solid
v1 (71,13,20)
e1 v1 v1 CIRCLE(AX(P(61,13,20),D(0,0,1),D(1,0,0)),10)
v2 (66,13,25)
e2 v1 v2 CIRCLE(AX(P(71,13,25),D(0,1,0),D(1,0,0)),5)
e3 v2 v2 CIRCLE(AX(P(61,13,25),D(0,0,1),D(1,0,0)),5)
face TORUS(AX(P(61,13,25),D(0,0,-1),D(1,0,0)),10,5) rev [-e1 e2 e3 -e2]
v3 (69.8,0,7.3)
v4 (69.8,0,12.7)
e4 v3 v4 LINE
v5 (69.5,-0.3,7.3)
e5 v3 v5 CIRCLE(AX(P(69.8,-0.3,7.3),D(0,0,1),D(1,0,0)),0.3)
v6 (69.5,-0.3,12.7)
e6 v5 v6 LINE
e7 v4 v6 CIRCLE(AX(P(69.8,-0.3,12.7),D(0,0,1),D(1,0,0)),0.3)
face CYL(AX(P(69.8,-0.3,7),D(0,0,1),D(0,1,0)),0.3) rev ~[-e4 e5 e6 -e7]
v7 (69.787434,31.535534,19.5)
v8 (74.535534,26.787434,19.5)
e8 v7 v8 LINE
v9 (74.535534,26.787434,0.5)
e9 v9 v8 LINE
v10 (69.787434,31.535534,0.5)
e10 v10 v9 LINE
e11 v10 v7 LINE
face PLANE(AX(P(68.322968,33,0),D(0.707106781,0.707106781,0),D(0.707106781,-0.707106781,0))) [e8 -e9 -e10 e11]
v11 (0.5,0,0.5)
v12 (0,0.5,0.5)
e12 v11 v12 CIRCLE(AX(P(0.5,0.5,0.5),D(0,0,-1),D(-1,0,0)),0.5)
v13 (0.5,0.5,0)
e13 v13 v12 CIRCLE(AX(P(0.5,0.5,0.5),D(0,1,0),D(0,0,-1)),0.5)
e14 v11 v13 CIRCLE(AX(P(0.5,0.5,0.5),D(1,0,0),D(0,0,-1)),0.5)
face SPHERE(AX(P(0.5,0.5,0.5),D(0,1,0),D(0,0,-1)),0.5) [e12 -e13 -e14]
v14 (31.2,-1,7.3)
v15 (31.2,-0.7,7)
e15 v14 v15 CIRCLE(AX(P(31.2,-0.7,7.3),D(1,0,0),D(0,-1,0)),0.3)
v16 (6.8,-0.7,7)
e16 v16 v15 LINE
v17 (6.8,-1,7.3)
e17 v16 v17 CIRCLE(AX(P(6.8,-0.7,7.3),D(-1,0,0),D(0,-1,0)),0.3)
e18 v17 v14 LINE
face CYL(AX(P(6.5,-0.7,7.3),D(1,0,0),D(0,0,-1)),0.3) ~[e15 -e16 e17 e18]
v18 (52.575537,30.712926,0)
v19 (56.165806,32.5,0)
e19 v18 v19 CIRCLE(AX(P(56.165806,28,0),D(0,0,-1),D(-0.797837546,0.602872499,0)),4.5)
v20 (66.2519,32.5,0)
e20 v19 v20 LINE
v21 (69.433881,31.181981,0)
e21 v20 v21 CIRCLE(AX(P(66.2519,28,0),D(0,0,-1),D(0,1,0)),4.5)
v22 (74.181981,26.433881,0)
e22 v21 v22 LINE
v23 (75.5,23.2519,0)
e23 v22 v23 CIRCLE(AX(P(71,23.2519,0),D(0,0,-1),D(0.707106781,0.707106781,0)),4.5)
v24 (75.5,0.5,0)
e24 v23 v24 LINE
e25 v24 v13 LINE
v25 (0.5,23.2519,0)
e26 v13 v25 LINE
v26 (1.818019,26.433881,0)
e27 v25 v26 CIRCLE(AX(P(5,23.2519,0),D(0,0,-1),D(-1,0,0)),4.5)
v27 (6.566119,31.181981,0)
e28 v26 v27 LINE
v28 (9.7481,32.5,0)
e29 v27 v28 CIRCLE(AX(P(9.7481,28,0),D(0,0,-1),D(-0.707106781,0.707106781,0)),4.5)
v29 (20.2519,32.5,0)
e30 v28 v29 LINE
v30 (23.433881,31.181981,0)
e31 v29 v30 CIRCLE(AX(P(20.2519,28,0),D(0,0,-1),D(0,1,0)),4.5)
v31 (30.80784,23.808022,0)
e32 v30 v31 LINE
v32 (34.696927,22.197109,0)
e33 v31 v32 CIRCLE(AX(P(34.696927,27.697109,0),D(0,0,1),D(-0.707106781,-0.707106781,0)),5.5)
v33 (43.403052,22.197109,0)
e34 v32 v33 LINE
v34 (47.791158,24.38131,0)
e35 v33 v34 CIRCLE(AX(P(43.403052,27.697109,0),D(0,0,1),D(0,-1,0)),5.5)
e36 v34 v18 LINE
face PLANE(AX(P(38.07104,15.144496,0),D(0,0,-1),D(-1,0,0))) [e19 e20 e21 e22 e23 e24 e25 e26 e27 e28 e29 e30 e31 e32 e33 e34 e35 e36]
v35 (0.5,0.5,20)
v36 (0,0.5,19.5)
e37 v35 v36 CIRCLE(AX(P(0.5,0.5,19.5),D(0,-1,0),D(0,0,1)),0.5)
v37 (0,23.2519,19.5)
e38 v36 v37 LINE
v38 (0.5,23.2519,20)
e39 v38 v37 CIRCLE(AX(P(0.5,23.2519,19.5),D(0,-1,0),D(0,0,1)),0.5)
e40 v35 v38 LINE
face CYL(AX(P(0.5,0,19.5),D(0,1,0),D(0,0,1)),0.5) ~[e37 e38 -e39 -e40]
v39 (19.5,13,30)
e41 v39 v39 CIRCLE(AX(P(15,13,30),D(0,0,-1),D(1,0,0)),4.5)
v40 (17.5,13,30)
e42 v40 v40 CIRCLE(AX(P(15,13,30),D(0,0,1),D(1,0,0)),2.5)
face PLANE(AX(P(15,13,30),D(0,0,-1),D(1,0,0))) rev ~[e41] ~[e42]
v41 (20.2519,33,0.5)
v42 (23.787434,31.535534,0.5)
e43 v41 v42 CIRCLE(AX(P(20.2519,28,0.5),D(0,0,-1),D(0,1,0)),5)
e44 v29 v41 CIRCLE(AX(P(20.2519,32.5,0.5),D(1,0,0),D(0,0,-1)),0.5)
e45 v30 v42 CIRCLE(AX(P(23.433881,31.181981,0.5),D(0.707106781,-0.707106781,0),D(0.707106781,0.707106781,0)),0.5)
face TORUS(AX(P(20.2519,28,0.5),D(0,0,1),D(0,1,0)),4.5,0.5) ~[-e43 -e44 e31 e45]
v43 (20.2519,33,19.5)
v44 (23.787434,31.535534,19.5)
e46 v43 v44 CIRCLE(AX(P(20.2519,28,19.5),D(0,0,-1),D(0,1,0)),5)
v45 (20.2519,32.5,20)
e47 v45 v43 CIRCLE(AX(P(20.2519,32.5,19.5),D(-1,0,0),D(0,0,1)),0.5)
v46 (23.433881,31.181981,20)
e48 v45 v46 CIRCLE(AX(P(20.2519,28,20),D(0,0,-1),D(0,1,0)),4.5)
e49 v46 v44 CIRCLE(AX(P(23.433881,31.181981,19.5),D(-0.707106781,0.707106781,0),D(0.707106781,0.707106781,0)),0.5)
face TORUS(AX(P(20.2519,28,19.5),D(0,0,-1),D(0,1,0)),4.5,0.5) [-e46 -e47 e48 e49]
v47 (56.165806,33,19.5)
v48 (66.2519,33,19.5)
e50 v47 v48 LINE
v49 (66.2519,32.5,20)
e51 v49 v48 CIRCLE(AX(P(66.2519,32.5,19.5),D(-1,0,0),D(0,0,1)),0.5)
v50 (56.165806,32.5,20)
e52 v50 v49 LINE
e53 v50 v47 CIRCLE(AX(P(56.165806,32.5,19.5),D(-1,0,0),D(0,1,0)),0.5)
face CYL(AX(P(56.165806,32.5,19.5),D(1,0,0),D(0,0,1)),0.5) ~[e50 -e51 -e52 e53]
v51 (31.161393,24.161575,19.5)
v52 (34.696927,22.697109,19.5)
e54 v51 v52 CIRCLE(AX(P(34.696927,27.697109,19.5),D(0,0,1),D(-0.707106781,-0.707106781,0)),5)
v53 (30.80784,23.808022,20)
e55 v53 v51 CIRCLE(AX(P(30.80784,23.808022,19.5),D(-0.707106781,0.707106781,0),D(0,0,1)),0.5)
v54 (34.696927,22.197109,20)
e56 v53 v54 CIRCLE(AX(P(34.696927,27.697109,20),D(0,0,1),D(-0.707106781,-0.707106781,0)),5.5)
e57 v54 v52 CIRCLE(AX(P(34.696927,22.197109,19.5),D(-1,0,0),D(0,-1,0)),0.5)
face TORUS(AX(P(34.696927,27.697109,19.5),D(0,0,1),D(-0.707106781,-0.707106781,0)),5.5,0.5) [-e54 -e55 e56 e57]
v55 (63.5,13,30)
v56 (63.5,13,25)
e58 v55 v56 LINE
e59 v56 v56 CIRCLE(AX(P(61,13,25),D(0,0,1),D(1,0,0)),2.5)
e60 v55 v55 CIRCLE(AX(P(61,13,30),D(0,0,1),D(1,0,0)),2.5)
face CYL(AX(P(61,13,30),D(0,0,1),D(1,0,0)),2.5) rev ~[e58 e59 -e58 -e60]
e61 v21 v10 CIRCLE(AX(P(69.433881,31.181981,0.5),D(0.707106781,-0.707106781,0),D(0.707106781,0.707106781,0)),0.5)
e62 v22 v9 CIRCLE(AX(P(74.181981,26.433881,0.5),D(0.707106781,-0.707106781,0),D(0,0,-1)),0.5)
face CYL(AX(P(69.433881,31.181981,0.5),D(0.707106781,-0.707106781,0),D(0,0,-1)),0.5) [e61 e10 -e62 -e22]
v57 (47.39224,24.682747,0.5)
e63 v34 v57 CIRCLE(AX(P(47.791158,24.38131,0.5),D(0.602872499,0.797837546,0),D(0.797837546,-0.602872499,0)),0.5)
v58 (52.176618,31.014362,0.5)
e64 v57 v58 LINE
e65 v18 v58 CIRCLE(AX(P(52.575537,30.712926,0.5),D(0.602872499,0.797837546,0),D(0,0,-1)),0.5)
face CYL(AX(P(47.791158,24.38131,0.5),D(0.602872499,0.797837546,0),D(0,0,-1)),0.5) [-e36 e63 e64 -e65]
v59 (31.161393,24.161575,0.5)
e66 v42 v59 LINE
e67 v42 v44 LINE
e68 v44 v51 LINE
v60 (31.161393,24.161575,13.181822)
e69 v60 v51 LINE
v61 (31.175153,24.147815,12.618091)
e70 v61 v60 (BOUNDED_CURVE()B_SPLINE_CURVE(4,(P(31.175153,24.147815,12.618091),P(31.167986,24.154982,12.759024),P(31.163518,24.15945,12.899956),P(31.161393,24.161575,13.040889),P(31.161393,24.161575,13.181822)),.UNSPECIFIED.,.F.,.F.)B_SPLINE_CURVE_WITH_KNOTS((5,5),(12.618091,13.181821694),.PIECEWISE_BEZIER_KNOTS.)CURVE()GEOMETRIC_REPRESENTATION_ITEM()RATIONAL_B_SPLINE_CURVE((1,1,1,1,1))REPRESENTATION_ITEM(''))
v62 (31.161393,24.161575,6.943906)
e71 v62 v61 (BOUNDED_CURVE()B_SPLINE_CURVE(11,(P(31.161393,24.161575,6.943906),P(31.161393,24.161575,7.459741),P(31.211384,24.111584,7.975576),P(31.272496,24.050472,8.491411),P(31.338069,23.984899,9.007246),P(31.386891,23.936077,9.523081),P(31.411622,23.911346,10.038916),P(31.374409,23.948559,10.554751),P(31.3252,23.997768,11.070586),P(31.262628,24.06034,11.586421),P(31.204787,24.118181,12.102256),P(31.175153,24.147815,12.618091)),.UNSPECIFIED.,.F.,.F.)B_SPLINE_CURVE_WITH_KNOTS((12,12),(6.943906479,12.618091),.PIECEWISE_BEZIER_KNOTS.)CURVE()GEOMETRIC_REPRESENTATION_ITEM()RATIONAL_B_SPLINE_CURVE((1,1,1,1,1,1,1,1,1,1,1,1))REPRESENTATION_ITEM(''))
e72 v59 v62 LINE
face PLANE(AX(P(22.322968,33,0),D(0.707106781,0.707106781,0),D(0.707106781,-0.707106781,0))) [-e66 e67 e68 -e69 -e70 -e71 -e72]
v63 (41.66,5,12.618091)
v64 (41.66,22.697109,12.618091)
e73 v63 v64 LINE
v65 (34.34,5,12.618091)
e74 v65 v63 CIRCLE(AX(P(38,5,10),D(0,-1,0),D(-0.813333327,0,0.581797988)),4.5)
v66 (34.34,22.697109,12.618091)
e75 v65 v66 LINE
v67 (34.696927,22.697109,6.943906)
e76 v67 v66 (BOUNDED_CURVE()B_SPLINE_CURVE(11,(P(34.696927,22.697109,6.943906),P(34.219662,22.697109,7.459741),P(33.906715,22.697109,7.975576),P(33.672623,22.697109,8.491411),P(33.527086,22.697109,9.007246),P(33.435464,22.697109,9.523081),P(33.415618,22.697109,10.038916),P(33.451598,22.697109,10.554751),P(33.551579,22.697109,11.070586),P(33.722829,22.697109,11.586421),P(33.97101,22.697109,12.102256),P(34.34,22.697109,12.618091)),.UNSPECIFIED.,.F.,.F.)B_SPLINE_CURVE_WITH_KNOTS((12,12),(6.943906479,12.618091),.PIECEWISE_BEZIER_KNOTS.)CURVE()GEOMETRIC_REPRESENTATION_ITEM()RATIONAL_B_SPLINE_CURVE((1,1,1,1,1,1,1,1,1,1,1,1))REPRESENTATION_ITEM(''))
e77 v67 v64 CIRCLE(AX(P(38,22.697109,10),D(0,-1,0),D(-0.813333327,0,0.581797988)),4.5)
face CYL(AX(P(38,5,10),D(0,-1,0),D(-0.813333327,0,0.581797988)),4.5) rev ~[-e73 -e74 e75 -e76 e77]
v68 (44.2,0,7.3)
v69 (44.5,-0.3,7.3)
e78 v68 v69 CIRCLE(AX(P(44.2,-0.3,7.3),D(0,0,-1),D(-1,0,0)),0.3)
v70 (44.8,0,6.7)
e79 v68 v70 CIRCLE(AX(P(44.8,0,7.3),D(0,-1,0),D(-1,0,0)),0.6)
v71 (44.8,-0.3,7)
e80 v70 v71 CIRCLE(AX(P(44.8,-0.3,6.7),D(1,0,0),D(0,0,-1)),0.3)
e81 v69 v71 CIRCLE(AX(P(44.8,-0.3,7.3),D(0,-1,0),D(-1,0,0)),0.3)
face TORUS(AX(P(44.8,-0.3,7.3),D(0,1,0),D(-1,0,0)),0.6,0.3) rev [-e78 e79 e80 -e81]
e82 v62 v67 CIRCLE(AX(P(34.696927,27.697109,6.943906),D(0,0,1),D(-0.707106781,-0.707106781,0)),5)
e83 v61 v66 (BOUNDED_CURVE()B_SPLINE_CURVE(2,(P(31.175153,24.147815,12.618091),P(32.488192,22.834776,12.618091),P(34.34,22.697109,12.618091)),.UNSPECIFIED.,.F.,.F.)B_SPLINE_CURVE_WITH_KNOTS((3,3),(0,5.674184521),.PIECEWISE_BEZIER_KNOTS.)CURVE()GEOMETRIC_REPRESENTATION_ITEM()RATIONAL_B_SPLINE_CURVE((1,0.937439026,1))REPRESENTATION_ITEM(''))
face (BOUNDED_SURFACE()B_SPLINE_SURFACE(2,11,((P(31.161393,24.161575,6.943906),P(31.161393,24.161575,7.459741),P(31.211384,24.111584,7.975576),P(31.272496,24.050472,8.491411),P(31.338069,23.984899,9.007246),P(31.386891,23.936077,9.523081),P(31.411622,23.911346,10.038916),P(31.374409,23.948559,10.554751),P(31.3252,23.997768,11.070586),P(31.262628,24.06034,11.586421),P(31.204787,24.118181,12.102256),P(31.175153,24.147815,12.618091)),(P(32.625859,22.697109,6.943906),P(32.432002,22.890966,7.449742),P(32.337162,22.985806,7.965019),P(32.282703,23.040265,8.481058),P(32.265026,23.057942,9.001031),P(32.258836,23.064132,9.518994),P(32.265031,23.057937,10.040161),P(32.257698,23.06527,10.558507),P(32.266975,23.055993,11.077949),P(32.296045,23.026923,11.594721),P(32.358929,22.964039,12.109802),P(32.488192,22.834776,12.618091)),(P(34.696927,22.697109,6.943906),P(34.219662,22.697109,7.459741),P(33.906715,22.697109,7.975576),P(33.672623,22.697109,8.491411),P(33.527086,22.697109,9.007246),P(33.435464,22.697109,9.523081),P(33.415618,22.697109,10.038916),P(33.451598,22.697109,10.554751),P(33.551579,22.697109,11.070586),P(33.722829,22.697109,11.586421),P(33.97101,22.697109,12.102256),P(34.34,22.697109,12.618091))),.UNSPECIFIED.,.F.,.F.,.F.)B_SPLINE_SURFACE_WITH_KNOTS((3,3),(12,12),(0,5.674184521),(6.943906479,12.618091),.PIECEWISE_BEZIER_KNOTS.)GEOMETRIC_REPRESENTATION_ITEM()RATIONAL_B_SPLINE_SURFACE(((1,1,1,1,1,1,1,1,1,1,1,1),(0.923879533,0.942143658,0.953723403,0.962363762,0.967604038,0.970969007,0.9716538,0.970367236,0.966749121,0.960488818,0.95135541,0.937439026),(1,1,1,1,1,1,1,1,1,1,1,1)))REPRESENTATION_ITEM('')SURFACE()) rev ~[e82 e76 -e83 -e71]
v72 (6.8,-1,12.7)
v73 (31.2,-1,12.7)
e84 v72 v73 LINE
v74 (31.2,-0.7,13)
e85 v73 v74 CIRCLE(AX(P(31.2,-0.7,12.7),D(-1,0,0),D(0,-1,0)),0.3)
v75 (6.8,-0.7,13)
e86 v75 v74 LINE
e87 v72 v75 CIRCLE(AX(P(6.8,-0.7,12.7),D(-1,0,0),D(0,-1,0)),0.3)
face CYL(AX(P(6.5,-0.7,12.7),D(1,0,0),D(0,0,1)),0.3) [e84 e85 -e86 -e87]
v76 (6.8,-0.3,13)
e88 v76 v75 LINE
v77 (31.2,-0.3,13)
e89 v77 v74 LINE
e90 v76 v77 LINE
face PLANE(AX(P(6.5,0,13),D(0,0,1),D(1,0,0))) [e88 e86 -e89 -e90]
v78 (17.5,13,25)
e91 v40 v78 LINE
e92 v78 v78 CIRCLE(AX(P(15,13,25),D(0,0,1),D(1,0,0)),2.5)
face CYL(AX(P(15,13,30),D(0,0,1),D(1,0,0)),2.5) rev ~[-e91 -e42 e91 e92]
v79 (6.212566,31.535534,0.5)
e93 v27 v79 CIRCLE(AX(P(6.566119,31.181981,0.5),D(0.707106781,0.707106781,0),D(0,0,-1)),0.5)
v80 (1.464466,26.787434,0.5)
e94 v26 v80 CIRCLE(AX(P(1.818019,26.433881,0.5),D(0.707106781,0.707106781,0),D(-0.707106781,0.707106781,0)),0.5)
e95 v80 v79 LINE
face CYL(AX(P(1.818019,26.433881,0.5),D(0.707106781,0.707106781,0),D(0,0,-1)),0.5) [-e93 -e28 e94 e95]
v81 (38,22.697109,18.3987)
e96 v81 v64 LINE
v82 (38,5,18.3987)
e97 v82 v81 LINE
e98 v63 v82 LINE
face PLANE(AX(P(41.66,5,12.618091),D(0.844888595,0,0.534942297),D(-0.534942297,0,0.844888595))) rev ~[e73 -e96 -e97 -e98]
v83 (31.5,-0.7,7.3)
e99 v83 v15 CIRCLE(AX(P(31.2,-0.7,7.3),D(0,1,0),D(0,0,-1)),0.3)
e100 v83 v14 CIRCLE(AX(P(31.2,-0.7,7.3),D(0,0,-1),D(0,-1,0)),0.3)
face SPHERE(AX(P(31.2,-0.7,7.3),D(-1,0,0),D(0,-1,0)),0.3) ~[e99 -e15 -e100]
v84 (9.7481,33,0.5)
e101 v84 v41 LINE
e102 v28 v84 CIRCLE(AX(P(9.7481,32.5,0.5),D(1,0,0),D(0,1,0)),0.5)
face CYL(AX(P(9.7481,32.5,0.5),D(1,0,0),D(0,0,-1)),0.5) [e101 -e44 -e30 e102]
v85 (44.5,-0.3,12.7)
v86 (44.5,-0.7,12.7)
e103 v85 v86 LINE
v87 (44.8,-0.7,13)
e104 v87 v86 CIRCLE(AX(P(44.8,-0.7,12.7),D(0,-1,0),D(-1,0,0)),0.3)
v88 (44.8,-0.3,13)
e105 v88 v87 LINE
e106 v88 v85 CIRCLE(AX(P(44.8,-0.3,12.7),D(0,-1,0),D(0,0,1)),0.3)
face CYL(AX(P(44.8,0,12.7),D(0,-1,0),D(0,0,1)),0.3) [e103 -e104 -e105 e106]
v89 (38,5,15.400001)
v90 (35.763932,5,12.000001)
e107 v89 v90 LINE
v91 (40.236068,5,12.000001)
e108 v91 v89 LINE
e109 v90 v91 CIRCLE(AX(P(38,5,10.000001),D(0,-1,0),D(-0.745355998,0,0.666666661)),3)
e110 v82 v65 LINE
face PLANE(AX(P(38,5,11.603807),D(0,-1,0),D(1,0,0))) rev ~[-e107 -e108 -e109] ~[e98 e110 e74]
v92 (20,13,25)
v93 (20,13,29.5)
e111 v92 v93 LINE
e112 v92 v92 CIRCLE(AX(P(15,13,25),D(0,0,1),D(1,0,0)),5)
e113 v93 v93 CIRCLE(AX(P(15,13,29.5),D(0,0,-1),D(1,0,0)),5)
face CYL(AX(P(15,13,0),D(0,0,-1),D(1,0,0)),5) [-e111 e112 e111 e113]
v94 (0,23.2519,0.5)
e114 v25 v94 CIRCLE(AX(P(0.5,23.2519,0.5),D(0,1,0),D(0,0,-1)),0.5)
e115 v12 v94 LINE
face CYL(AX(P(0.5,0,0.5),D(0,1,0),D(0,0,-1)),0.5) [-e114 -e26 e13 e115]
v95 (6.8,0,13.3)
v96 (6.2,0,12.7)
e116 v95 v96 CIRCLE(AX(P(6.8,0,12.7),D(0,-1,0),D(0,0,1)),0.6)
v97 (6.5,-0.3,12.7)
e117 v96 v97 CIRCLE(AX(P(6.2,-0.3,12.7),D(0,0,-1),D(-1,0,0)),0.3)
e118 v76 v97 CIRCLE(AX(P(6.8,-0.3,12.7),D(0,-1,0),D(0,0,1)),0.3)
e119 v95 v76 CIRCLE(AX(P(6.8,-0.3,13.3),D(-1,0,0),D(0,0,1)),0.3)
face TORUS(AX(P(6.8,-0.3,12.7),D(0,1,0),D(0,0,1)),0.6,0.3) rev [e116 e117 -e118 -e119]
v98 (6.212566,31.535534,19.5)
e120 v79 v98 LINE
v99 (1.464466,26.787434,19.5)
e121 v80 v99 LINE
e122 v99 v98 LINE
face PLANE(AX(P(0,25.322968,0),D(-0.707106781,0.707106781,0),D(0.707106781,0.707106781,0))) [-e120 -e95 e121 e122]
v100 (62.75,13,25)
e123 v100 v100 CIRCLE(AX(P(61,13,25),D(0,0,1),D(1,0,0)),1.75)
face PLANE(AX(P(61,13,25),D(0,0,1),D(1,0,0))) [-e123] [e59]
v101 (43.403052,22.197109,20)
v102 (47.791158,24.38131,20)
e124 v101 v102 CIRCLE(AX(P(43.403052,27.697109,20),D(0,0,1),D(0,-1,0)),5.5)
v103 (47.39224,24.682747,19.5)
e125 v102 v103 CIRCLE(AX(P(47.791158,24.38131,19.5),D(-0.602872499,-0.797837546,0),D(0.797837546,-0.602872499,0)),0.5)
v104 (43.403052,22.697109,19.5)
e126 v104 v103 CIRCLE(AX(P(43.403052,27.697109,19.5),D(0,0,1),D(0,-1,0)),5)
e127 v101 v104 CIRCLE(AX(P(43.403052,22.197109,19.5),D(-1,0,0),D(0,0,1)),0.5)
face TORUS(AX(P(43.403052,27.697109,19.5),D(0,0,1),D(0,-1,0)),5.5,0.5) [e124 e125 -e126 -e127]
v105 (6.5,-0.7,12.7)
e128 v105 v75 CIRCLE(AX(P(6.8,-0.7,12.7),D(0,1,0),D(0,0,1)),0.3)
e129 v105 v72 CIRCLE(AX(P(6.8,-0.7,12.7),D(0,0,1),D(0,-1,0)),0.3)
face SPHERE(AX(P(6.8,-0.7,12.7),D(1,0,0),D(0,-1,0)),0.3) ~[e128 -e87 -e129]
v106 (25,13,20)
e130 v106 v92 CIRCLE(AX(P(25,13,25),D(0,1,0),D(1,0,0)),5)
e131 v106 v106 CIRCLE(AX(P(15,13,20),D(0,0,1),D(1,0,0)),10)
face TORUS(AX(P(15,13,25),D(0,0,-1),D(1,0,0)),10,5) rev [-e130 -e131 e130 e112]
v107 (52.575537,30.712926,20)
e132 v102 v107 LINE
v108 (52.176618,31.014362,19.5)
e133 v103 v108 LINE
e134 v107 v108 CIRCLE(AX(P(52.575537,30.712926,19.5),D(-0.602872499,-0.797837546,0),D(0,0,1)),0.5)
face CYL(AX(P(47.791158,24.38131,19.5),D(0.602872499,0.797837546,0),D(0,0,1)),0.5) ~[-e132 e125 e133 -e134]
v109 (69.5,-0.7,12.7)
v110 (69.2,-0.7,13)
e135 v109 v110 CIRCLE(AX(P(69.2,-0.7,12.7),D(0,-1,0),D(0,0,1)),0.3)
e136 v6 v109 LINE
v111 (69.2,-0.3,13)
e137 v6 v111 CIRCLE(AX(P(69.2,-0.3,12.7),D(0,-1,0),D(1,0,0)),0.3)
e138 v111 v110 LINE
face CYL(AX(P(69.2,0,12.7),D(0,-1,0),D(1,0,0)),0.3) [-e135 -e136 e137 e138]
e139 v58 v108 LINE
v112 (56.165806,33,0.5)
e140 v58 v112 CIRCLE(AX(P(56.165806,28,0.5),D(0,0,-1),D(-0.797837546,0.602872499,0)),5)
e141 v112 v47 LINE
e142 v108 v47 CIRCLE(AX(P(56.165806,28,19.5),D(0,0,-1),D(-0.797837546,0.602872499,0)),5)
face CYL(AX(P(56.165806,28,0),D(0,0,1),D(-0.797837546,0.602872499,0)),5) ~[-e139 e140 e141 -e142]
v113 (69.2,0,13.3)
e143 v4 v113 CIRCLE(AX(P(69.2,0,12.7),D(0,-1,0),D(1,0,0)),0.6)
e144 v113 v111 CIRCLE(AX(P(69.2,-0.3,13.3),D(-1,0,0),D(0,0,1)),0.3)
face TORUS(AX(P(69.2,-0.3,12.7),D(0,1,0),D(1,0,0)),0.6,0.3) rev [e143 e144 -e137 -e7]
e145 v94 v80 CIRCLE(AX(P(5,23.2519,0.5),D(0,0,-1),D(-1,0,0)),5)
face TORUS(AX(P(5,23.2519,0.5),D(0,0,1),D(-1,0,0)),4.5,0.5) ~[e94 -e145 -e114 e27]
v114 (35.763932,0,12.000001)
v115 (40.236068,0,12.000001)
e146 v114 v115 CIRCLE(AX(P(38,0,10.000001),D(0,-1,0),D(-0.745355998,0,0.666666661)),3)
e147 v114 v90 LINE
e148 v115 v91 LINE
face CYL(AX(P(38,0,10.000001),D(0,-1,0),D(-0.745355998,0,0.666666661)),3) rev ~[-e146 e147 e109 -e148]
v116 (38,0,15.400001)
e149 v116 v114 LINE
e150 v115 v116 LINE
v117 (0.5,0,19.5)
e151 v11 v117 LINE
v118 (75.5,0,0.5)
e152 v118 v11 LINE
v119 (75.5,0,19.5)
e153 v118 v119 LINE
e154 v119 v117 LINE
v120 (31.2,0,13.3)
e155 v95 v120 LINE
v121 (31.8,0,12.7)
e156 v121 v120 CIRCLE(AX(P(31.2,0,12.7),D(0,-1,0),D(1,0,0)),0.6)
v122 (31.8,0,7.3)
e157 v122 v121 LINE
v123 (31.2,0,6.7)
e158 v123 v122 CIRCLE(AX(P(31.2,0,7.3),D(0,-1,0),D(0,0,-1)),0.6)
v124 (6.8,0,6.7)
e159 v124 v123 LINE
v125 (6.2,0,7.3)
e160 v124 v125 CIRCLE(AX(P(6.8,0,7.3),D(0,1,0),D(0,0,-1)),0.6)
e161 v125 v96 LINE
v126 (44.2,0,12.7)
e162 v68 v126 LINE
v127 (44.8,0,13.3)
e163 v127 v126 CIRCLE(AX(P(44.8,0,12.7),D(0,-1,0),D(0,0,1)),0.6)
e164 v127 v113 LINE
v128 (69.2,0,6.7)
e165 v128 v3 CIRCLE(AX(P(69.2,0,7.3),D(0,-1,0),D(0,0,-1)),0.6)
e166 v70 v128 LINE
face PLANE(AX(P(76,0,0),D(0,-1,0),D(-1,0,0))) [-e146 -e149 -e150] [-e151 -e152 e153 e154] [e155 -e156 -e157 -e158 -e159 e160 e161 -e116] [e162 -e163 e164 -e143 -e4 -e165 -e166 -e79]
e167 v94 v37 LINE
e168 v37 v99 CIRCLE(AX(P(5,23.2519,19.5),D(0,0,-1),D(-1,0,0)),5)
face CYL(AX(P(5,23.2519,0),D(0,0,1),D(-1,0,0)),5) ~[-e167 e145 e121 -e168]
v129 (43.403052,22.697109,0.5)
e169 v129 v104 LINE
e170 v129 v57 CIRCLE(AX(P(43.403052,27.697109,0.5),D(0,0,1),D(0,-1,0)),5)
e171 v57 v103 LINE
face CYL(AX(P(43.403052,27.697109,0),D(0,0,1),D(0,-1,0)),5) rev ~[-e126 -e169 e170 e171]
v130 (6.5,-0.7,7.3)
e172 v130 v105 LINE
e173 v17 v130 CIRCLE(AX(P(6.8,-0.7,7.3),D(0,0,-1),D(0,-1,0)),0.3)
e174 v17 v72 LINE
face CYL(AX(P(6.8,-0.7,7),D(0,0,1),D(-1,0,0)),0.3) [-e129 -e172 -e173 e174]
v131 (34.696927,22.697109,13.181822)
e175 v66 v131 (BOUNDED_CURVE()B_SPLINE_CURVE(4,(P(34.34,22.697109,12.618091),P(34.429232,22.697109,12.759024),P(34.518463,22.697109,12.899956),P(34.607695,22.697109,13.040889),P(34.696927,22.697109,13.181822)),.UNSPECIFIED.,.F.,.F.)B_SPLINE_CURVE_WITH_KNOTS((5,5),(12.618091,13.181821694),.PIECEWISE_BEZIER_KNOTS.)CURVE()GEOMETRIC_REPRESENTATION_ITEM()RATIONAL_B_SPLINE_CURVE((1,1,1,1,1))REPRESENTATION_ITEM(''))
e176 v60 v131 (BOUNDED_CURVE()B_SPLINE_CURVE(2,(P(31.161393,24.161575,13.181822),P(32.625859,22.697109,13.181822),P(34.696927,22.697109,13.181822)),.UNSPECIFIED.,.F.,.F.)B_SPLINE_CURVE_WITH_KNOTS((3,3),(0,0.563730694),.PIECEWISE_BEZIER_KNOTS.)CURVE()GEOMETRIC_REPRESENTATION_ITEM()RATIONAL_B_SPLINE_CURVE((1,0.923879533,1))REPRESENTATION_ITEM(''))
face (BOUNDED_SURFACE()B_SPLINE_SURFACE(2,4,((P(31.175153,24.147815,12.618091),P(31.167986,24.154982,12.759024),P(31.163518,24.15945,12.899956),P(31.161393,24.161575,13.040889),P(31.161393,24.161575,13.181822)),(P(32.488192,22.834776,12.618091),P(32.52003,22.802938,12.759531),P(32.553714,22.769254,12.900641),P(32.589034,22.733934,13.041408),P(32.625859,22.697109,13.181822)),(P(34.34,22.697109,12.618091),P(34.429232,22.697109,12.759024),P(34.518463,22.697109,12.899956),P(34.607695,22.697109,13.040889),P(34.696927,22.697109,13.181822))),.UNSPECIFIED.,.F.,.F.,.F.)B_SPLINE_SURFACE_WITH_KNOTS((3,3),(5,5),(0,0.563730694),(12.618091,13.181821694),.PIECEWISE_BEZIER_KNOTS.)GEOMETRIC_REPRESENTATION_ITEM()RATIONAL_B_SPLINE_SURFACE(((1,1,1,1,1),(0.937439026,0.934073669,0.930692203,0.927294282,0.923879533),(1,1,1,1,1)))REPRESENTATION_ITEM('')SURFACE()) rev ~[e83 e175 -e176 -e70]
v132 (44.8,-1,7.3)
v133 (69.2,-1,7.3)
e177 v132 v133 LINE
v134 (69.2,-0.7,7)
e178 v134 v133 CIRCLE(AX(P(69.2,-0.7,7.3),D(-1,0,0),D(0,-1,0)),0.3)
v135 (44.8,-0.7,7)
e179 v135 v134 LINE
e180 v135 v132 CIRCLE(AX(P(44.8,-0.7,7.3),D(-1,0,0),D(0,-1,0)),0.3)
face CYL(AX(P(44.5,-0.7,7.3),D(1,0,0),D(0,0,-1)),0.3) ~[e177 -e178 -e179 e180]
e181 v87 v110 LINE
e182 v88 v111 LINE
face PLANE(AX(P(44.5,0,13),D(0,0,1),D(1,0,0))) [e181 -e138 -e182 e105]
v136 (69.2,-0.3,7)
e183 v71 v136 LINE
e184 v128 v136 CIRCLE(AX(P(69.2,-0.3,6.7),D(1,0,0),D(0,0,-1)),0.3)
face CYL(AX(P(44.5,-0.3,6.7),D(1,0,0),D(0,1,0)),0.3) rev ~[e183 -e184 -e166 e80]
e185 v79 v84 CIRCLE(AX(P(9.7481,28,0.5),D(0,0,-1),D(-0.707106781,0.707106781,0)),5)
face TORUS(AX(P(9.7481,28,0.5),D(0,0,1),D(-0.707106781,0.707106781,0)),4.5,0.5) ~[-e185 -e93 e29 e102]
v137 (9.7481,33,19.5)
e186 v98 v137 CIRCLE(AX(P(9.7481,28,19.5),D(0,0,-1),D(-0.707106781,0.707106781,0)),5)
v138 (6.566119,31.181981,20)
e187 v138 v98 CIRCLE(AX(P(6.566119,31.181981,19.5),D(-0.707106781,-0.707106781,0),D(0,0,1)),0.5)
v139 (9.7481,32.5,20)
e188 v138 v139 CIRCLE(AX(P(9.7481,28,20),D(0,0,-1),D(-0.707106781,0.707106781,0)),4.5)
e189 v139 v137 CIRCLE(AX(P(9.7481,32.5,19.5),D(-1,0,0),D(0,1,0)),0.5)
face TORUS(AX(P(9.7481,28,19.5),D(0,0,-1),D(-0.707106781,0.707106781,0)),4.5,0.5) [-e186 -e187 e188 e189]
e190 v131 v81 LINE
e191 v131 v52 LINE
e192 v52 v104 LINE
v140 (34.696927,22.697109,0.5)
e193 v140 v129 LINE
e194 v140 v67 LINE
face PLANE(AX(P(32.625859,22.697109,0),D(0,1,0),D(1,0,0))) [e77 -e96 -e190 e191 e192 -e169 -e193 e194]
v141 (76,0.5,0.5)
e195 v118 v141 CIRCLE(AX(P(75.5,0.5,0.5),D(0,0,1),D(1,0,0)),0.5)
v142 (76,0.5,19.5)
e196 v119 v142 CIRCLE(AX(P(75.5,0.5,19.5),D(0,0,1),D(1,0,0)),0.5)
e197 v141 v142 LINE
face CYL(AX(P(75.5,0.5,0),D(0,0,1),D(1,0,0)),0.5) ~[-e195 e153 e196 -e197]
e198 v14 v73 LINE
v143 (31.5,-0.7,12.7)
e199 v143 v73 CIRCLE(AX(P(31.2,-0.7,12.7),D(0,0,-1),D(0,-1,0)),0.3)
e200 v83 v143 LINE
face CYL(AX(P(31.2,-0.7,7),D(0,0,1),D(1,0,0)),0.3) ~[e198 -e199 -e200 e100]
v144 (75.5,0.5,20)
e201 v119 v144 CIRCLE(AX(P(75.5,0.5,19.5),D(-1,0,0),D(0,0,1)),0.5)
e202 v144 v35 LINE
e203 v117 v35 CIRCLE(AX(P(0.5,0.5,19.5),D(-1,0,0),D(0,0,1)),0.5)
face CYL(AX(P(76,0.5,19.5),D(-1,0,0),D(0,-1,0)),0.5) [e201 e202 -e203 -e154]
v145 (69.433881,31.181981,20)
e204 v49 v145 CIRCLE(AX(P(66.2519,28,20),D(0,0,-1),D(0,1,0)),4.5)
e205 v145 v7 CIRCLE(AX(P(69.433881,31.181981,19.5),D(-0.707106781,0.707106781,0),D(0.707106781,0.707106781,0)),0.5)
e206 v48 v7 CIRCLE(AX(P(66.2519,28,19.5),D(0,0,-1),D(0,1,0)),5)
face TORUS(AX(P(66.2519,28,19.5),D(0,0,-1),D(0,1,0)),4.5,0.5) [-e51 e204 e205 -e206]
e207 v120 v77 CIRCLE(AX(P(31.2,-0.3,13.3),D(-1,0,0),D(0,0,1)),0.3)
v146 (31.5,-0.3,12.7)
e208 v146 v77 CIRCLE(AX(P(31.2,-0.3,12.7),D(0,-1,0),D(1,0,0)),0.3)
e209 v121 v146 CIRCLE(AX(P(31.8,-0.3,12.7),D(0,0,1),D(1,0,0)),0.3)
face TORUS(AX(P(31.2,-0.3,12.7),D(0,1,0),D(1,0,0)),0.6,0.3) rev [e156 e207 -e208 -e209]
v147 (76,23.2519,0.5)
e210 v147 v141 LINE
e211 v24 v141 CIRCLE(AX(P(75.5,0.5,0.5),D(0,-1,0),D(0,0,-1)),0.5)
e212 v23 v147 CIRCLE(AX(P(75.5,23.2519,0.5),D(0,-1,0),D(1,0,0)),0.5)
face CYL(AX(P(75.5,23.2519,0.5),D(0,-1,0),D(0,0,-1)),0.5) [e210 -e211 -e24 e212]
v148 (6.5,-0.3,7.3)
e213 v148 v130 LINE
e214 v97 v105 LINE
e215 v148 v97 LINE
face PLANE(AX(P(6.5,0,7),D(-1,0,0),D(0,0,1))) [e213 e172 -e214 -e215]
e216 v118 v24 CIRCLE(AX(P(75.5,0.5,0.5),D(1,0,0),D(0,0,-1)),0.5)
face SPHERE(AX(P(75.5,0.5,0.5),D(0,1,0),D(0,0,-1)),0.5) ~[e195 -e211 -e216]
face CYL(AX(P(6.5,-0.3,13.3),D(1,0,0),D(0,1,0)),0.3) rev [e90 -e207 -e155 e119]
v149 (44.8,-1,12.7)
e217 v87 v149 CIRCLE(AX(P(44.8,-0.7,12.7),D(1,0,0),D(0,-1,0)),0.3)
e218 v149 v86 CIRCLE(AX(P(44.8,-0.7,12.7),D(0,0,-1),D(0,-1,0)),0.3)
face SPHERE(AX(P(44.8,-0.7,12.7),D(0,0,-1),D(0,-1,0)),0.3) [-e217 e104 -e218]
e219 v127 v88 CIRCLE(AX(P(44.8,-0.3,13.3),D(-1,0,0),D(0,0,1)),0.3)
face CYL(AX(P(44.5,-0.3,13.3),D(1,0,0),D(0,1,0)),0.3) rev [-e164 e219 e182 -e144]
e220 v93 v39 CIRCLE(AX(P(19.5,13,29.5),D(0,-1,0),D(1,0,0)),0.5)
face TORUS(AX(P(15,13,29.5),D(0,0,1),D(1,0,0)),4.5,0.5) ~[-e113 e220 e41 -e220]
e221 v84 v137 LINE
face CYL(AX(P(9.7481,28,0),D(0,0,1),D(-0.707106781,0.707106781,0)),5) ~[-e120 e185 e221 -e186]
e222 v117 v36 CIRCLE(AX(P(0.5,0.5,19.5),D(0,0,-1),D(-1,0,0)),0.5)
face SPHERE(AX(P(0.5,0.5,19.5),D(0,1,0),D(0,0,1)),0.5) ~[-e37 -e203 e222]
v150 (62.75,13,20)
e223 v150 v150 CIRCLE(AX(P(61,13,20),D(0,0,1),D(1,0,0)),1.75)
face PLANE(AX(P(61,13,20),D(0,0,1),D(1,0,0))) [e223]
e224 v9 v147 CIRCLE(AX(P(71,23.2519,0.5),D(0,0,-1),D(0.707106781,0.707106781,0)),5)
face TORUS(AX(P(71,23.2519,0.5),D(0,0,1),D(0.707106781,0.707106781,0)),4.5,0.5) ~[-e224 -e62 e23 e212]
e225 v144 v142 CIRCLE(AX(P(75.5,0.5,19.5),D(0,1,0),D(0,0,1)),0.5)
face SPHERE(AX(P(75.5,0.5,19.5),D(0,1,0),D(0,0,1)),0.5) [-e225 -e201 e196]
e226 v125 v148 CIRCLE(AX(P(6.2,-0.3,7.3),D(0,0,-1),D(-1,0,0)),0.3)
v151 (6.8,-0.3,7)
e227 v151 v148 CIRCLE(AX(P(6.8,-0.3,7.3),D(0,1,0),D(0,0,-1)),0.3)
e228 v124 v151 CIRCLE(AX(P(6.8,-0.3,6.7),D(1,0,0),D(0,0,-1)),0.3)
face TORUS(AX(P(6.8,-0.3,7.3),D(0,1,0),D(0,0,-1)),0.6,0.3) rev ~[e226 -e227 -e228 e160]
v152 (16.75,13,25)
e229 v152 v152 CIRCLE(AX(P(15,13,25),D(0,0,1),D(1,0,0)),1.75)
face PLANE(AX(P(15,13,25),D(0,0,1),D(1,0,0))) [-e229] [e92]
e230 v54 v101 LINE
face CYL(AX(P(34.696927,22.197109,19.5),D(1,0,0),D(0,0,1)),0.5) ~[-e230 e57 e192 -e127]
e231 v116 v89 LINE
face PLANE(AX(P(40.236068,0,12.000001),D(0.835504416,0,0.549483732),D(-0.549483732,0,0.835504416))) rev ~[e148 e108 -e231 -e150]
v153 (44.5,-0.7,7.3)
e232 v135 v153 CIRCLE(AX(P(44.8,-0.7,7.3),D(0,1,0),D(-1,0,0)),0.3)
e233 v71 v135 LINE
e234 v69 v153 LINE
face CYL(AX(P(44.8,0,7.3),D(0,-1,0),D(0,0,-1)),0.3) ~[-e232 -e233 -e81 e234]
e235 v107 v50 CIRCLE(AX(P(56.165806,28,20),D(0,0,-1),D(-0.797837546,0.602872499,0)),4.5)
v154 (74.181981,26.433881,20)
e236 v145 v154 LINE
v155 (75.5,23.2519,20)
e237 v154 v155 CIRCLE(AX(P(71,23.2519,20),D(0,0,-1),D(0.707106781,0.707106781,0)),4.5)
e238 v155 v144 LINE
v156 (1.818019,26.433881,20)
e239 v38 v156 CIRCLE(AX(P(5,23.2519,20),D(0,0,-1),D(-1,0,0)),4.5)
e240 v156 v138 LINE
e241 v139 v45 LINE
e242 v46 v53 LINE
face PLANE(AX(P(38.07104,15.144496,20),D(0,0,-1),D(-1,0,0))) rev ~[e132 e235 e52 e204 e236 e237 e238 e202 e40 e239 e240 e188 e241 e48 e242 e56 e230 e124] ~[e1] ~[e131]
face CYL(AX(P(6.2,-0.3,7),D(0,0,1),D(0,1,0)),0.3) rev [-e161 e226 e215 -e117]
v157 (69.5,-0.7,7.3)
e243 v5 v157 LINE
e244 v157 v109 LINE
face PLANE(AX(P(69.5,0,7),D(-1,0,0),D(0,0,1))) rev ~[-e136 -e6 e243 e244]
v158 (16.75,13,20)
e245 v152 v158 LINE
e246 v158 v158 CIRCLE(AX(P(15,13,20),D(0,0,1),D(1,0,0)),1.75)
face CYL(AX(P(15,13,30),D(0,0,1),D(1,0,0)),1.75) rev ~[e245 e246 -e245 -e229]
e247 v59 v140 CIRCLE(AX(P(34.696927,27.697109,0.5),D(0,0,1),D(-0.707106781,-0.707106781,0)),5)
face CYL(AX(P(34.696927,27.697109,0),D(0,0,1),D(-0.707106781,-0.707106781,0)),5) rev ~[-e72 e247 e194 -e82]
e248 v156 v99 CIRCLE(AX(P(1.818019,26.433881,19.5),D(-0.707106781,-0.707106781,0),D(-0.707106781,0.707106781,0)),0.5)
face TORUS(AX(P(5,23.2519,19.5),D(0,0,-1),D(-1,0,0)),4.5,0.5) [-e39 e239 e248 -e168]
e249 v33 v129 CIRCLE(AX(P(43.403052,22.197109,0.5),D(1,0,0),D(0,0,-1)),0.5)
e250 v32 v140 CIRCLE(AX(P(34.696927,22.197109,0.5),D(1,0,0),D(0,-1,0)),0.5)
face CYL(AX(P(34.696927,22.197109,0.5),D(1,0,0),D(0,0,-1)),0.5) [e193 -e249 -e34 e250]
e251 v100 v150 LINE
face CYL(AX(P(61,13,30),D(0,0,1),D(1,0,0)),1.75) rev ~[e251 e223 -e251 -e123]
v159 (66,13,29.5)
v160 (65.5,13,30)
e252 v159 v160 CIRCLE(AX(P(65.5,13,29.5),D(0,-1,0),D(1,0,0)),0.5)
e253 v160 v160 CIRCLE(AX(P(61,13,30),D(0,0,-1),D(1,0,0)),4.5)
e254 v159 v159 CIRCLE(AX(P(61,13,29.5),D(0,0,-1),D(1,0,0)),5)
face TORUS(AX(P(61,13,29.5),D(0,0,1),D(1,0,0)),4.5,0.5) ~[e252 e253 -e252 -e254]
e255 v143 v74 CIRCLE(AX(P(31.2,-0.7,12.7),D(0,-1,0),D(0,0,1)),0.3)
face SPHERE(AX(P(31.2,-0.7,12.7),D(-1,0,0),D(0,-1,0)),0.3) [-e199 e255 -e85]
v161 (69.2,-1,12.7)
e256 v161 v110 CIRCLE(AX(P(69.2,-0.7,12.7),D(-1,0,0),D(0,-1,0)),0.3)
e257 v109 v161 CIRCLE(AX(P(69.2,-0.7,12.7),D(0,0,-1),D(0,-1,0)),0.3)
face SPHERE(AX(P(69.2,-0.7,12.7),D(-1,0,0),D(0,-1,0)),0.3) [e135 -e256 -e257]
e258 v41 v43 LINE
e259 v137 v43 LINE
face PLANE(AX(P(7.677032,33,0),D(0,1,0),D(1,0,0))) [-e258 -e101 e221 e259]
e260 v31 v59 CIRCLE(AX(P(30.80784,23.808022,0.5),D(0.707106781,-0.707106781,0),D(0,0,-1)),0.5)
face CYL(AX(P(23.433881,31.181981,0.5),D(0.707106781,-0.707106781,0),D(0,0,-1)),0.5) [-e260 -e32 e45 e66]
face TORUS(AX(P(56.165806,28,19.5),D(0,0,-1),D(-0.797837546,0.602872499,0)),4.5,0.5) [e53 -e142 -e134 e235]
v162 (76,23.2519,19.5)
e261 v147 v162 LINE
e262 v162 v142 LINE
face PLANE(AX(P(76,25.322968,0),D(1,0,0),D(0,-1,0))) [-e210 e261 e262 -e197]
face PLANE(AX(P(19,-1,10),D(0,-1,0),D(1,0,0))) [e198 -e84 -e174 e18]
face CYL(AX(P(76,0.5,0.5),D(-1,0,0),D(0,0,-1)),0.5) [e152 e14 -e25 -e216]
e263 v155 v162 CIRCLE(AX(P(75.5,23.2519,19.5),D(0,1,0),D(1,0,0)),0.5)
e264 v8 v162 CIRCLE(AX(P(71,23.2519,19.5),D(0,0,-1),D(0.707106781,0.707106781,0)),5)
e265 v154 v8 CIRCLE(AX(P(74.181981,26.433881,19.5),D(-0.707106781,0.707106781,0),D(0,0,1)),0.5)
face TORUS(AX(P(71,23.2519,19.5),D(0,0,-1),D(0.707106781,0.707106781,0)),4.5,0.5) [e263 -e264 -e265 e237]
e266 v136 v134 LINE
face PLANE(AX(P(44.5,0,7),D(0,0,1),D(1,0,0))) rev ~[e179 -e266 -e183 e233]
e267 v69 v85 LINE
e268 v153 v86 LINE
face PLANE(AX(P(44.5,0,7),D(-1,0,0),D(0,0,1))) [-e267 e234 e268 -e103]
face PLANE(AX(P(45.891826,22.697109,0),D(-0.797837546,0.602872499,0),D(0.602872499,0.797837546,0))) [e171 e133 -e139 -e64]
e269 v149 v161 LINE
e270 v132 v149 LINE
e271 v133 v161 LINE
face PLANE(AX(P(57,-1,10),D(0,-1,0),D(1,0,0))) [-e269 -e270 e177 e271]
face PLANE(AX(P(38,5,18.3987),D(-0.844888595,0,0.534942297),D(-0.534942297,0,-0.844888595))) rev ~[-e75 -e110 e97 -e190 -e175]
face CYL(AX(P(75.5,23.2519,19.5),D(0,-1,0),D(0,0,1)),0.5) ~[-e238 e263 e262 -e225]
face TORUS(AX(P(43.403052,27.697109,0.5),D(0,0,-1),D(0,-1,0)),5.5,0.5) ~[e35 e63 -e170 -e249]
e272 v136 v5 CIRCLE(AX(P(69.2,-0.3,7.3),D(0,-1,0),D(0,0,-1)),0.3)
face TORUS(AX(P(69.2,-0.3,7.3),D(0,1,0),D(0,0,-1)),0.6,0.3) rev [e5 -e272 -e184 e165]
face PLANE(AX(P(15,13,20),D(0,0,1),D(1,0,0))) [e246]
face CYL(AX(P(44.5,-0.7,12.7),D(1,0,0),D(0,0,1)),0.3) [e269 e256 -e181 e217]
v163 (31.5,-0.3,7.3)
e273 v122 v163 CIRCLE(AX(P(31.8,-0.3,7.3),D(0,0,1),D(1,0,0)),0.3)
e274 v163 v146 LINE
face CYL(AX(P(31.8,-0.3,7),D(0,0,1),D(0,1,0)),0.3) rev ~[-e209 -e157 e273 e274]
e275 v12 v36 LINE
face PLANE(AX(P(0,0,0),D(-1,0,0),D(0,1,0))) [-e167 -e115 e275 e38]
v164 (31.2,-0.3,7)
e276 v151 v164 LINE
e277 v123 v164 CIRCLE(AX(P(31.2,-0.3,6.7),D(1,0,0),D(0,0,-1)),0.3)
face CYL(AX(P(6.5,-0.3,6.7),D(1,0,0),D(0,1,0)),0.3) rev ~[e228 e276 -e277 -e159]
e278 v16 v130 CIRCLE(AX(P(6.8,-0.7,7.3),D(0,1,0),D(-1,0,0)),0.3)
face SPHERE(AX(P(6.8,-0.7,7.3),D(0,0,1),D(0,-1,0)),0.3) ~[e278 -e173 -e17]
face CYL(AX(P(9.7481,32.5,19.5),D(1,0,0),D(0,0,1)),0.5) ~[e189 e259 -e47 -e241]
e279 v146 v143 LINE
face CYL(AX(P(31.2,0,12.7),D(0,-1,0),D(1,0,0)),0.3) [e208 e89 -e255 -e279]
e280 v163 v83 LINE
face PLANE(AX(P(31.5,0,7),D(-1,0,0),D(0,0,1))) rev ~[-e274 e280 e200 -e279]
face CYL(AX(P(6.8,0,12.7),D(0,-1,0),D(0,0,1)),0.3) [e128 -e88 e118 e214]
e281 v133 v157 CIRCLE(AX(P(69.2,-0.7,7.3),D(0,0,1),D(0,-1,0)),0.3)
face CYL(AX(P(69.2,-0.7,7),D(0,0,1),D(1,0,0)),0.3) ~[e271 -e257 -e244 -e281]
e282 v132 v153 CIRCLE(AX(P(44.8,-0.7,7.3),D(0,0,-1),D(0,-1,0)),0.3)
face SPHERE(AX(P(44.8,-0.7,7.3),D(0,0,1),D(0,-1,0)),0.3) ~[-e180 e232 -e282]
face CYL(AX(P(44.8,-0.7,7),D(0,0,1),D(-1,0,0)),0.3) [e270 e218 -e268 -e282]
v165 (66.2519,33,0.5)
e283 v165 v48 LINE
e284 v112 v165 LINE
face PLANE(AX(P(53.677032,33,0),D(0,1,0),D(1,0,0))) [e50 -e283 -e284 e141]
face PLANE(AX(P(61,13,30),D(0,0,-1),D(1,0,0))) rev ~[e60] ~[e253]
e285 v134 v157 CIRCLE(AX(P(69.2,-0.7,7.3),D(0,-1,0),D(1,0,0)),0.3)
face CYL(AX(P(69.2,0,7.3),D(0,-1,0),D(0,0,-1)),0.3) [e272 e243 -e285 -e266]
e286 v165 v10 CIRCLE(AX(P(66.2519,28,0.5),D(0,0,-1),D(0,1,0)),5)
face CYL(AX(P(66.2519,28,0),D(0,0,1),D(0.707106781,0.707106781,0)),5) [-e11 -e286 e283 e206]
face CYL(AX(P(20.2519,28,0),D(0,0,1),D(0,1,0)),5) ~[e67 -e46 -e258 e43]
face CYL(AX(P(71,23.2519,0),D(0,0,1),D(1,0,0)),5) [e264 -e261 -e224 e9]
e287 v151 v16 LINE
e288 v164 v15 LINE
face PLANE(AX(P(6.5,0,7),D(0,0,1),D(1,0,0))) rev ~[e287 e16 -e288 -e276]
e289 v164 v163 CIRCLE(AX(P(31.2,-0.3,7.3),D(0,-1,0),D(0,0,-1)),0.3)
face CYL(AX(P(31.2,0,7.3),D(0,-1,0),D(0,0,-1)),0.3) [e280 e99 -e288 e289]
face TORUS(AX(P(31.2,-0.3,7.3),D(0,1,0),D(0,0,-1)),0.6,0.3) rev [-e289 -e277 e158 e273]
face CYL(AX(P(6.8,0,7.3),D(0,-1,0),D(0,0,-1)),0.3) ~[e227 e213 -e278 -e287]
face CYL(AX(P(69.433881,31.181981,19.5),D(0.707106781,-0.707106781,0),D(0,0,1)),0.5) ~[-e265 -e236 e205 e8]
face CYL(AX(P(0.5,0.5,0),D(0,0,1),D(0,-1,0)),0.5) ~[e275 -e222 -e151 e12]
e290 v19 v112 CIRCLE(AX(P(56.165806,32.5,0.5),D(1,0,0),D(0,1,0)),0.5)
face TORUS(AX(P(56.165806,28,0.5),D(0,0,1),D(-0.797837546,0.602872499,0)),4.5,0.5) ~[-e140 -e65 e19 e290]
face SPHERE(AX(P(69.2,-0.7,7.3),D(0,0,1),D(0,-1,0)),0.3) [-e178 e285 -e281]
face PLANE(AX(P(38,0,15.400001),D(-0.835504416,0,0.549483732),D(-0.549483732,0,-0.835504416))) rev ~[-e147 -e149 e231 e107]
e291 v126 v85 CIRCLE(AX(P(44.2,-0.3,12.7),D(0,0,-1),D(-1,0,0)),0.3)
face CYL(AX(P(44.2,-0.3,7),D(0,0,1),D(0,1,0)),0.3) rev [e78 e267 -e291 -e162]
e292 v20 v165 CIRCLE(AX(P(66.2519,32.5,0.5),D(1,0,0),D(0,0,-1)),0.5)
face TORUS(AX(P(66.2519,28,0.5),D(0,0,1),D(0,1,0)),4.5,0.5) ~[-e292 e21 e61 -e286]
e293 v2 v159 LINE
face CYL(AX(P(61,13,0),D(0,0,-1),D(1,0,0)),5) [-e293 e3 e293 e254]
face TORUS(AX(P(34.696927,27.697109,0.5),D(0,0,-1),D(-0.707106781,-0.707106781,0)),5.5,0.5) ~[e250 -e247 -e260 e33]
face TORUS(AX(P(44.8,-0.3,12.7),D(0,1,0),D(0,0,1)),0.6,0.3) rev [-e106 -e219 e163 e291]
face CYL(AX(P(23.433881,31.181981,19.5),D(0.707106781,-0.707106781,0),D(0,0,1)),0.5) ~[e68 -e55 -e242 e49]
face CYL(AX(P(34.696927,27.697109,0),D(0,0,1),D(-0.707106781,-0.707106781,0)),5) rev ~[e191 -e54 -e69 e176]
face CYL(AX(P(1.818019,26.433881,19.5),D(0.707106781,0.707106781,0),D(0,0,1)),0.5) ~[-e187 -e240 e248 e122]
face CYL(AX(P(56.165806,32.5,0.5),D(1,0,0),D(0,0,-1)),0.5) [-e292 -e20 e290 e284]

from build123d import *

# Parameters (mm, degrees)
SKETCH_R        = 5
PAD_DEPTH       = 20
SKETCH002_R     = 5
PAD001_DEPTH    = 30
SKETCH003_R     = 1.75
POCKET_DEPTH    = 10
SKETCH004_R     = 2.5
POCKET001_DEPTH = 5
POCKET002_START = -5
POCKET002_DEPTH = 21
POCKET003_DEPTH = 33
SKETCH007_W     = 25
SKETCH007_H     = 6
PAD002_DEPTH    = 1
FILLET_R        = 0.3
FILLET001_R     = 5
FILLET002_R     = 0.5


with BuildPart() as part:
    # Sketch → Pad (new body)
    with BuildSketch(Plane.XY):
        Polygon((0, 0), (0, 25.322968), (7.677032, 33), (22.322968, 33), (32.625859, 22.697109), (45.891826, 22.697109), (53.677032, 33), (68.322968, 33), (76, 25.322968), (76, 0), align=None)
        with Locations((15, 13)):
            Circle(SKETCH_R, mode=Mode.SUBTRACT)
        with Locations((61, 13)):
            Circle(SKETCH_R, mode=Mode.SUBTRACT)
    extrude(amount=PAD_DEPTH)

    # Sketch002 (on Face13 of Pad) → Pad001 (join)
    with BuildSketch(Plane(origin=(0, 0, 0), x_dir=(1, 0, 0), z_dir=(0, 0, -1))):
        with Locations((15, -13)):
            Circle(SKETCH002_R)
        with Locations((61, -13)):
            Circle(SKETCH002_R)
    extrude(amount=-PAD001_DEPTH)

    # Sketch003 (on Face15 of Pad001) → Pocket (cut)
    with BuildSketch(Plane.XY.offset(30)):
        with Locations((15, 13)):
            Circle(SKETCH003_R)
        with Locations((61, 13)):
            Circle(SKETCH003_R)
    extrude(amount=-POCKET_DEPTH, mode=Mode.SUBTRACT)

    # Sketch004 (on Face16 of Pocket) → Pocket001 (cut)
    with BuildSketch(Plane.XY.offset(30)):
        with Locations((15, 13)):
            Circle(SKETCH004_R)
        with Locations((61, 13)):
            Circle(SKETCH004_R)
    extrude(amount=-POCKET001_DEPTH, mode=Mode.SUBTRACT)

    # Sketch005 (on Face2 of Pocket001) → Pocket002 (cut)
    with BuildSketch(Plane.XZ.offset(POCKET002_START)):
        with BuildLine():
            ThreePointArc((34.34, 12.618091), (38, 5.5), (41.66, 12.618091))
            Line((41.66, 12.618091), (38, 18.3987))
            Line((38, 18.3987), (34.34, 12.618091))
        make_face()
    extrude(amount=-POCKET002_DEPTH, mode=Mode.SUBTRACT)

    # Sketch006 (on Face2 of Pocket002) → Pocket003 (cut)
    with BuildSketch(Plane.XZ):
        with BuildLine():
            ThreePointArc((35.763932, 12.000001), (38, 7.000001), (40.236068, 12.000001))
            Line((40.236068, 12.000001), (38, 15.400001))
            Line((38, 15.400001), (35.763932, 12.000001))
        make_face()
    extrude(amount=-POCKET003_DEPTH, mode=Mode.SUBTRACT)

    # Sketch007 (on Face2 of Pocket003) → Pad002 (join)
    with BuildSketch(Plane.XZ):
        with Locations((19, 10)):
            Rectangle(SKETCH007_W, SKETCH007_H)
        with Locations((57, 10)):
            Rectangle(SKETCH007_W, SKETCH007_H)
    extrude(amount=PAD002_DEPTH)

    # Fillet
    fillet_edges = [part.edges().sort_by_distance(p)[0] for p in [
        (19, -1, 13),
        (6.5, -1, 10),
        (19, -1, 7),
        (31.5, -1, 10),
        (44.5, -1, 10),
        (57, -1, 13),
        (69.5, -1, 10),
        (57, -1, 7),
        (6.5, 0, 10),
        (6.5, -0.5, 13),
        (6.5, -0.5, 7),
        (19, 0, 7),
        (19, 0, 13),
        (31.5, -0.5, 13),
        (31.5, 0, 10),
        (31.5, -0.5, 7),
        (44.5, -0.5, 13),
        (57, 0, 13),
        (69.5, -0.5, 13),
        (69.5, 0, 10),
        (69.5, -0.5, 7),
        (57, 0, 7),
        (44.5, -0.5, 7),
        (44.5, 0, 10),
    ]]
    fillet(fillet_edges, radius=FILLET_R)

    # Fillet001
    fillet001_edges = [part.edges().sort_by_distance(p)[0] for p in [
        (0, 25.322968, 10),
        (10, 13, 20),
        (56, 13, 20),
        (7.677032, 33, 10),
        (22.322968, 33, 10),
        (53.677032, 33, 10),
        (45.891826, 22.697109, 10),
        (68.322968, 33, 10),
        (32.625859, 22.697109, 10),
        (76, 25.322968, 10),
    ]]
    fillet(fillet001_edges, radius=FILLET001_R)

    # Fillet002
    fillet002_edges = [part.edges().sort_by_distance(p)[0] for p in [
        (56, 13, 30),
        (10, 13, 30),
        (0, 11.62595, 20),
        (0, 11.62595, 0),
        (38, 0, 20),
        (38, 0, 0),
        (0, 0, 10),
        (76, 0, 10),
    ]]
    fillet(fillet002_edges, radius=FILLET002_R)


solid = part.part
